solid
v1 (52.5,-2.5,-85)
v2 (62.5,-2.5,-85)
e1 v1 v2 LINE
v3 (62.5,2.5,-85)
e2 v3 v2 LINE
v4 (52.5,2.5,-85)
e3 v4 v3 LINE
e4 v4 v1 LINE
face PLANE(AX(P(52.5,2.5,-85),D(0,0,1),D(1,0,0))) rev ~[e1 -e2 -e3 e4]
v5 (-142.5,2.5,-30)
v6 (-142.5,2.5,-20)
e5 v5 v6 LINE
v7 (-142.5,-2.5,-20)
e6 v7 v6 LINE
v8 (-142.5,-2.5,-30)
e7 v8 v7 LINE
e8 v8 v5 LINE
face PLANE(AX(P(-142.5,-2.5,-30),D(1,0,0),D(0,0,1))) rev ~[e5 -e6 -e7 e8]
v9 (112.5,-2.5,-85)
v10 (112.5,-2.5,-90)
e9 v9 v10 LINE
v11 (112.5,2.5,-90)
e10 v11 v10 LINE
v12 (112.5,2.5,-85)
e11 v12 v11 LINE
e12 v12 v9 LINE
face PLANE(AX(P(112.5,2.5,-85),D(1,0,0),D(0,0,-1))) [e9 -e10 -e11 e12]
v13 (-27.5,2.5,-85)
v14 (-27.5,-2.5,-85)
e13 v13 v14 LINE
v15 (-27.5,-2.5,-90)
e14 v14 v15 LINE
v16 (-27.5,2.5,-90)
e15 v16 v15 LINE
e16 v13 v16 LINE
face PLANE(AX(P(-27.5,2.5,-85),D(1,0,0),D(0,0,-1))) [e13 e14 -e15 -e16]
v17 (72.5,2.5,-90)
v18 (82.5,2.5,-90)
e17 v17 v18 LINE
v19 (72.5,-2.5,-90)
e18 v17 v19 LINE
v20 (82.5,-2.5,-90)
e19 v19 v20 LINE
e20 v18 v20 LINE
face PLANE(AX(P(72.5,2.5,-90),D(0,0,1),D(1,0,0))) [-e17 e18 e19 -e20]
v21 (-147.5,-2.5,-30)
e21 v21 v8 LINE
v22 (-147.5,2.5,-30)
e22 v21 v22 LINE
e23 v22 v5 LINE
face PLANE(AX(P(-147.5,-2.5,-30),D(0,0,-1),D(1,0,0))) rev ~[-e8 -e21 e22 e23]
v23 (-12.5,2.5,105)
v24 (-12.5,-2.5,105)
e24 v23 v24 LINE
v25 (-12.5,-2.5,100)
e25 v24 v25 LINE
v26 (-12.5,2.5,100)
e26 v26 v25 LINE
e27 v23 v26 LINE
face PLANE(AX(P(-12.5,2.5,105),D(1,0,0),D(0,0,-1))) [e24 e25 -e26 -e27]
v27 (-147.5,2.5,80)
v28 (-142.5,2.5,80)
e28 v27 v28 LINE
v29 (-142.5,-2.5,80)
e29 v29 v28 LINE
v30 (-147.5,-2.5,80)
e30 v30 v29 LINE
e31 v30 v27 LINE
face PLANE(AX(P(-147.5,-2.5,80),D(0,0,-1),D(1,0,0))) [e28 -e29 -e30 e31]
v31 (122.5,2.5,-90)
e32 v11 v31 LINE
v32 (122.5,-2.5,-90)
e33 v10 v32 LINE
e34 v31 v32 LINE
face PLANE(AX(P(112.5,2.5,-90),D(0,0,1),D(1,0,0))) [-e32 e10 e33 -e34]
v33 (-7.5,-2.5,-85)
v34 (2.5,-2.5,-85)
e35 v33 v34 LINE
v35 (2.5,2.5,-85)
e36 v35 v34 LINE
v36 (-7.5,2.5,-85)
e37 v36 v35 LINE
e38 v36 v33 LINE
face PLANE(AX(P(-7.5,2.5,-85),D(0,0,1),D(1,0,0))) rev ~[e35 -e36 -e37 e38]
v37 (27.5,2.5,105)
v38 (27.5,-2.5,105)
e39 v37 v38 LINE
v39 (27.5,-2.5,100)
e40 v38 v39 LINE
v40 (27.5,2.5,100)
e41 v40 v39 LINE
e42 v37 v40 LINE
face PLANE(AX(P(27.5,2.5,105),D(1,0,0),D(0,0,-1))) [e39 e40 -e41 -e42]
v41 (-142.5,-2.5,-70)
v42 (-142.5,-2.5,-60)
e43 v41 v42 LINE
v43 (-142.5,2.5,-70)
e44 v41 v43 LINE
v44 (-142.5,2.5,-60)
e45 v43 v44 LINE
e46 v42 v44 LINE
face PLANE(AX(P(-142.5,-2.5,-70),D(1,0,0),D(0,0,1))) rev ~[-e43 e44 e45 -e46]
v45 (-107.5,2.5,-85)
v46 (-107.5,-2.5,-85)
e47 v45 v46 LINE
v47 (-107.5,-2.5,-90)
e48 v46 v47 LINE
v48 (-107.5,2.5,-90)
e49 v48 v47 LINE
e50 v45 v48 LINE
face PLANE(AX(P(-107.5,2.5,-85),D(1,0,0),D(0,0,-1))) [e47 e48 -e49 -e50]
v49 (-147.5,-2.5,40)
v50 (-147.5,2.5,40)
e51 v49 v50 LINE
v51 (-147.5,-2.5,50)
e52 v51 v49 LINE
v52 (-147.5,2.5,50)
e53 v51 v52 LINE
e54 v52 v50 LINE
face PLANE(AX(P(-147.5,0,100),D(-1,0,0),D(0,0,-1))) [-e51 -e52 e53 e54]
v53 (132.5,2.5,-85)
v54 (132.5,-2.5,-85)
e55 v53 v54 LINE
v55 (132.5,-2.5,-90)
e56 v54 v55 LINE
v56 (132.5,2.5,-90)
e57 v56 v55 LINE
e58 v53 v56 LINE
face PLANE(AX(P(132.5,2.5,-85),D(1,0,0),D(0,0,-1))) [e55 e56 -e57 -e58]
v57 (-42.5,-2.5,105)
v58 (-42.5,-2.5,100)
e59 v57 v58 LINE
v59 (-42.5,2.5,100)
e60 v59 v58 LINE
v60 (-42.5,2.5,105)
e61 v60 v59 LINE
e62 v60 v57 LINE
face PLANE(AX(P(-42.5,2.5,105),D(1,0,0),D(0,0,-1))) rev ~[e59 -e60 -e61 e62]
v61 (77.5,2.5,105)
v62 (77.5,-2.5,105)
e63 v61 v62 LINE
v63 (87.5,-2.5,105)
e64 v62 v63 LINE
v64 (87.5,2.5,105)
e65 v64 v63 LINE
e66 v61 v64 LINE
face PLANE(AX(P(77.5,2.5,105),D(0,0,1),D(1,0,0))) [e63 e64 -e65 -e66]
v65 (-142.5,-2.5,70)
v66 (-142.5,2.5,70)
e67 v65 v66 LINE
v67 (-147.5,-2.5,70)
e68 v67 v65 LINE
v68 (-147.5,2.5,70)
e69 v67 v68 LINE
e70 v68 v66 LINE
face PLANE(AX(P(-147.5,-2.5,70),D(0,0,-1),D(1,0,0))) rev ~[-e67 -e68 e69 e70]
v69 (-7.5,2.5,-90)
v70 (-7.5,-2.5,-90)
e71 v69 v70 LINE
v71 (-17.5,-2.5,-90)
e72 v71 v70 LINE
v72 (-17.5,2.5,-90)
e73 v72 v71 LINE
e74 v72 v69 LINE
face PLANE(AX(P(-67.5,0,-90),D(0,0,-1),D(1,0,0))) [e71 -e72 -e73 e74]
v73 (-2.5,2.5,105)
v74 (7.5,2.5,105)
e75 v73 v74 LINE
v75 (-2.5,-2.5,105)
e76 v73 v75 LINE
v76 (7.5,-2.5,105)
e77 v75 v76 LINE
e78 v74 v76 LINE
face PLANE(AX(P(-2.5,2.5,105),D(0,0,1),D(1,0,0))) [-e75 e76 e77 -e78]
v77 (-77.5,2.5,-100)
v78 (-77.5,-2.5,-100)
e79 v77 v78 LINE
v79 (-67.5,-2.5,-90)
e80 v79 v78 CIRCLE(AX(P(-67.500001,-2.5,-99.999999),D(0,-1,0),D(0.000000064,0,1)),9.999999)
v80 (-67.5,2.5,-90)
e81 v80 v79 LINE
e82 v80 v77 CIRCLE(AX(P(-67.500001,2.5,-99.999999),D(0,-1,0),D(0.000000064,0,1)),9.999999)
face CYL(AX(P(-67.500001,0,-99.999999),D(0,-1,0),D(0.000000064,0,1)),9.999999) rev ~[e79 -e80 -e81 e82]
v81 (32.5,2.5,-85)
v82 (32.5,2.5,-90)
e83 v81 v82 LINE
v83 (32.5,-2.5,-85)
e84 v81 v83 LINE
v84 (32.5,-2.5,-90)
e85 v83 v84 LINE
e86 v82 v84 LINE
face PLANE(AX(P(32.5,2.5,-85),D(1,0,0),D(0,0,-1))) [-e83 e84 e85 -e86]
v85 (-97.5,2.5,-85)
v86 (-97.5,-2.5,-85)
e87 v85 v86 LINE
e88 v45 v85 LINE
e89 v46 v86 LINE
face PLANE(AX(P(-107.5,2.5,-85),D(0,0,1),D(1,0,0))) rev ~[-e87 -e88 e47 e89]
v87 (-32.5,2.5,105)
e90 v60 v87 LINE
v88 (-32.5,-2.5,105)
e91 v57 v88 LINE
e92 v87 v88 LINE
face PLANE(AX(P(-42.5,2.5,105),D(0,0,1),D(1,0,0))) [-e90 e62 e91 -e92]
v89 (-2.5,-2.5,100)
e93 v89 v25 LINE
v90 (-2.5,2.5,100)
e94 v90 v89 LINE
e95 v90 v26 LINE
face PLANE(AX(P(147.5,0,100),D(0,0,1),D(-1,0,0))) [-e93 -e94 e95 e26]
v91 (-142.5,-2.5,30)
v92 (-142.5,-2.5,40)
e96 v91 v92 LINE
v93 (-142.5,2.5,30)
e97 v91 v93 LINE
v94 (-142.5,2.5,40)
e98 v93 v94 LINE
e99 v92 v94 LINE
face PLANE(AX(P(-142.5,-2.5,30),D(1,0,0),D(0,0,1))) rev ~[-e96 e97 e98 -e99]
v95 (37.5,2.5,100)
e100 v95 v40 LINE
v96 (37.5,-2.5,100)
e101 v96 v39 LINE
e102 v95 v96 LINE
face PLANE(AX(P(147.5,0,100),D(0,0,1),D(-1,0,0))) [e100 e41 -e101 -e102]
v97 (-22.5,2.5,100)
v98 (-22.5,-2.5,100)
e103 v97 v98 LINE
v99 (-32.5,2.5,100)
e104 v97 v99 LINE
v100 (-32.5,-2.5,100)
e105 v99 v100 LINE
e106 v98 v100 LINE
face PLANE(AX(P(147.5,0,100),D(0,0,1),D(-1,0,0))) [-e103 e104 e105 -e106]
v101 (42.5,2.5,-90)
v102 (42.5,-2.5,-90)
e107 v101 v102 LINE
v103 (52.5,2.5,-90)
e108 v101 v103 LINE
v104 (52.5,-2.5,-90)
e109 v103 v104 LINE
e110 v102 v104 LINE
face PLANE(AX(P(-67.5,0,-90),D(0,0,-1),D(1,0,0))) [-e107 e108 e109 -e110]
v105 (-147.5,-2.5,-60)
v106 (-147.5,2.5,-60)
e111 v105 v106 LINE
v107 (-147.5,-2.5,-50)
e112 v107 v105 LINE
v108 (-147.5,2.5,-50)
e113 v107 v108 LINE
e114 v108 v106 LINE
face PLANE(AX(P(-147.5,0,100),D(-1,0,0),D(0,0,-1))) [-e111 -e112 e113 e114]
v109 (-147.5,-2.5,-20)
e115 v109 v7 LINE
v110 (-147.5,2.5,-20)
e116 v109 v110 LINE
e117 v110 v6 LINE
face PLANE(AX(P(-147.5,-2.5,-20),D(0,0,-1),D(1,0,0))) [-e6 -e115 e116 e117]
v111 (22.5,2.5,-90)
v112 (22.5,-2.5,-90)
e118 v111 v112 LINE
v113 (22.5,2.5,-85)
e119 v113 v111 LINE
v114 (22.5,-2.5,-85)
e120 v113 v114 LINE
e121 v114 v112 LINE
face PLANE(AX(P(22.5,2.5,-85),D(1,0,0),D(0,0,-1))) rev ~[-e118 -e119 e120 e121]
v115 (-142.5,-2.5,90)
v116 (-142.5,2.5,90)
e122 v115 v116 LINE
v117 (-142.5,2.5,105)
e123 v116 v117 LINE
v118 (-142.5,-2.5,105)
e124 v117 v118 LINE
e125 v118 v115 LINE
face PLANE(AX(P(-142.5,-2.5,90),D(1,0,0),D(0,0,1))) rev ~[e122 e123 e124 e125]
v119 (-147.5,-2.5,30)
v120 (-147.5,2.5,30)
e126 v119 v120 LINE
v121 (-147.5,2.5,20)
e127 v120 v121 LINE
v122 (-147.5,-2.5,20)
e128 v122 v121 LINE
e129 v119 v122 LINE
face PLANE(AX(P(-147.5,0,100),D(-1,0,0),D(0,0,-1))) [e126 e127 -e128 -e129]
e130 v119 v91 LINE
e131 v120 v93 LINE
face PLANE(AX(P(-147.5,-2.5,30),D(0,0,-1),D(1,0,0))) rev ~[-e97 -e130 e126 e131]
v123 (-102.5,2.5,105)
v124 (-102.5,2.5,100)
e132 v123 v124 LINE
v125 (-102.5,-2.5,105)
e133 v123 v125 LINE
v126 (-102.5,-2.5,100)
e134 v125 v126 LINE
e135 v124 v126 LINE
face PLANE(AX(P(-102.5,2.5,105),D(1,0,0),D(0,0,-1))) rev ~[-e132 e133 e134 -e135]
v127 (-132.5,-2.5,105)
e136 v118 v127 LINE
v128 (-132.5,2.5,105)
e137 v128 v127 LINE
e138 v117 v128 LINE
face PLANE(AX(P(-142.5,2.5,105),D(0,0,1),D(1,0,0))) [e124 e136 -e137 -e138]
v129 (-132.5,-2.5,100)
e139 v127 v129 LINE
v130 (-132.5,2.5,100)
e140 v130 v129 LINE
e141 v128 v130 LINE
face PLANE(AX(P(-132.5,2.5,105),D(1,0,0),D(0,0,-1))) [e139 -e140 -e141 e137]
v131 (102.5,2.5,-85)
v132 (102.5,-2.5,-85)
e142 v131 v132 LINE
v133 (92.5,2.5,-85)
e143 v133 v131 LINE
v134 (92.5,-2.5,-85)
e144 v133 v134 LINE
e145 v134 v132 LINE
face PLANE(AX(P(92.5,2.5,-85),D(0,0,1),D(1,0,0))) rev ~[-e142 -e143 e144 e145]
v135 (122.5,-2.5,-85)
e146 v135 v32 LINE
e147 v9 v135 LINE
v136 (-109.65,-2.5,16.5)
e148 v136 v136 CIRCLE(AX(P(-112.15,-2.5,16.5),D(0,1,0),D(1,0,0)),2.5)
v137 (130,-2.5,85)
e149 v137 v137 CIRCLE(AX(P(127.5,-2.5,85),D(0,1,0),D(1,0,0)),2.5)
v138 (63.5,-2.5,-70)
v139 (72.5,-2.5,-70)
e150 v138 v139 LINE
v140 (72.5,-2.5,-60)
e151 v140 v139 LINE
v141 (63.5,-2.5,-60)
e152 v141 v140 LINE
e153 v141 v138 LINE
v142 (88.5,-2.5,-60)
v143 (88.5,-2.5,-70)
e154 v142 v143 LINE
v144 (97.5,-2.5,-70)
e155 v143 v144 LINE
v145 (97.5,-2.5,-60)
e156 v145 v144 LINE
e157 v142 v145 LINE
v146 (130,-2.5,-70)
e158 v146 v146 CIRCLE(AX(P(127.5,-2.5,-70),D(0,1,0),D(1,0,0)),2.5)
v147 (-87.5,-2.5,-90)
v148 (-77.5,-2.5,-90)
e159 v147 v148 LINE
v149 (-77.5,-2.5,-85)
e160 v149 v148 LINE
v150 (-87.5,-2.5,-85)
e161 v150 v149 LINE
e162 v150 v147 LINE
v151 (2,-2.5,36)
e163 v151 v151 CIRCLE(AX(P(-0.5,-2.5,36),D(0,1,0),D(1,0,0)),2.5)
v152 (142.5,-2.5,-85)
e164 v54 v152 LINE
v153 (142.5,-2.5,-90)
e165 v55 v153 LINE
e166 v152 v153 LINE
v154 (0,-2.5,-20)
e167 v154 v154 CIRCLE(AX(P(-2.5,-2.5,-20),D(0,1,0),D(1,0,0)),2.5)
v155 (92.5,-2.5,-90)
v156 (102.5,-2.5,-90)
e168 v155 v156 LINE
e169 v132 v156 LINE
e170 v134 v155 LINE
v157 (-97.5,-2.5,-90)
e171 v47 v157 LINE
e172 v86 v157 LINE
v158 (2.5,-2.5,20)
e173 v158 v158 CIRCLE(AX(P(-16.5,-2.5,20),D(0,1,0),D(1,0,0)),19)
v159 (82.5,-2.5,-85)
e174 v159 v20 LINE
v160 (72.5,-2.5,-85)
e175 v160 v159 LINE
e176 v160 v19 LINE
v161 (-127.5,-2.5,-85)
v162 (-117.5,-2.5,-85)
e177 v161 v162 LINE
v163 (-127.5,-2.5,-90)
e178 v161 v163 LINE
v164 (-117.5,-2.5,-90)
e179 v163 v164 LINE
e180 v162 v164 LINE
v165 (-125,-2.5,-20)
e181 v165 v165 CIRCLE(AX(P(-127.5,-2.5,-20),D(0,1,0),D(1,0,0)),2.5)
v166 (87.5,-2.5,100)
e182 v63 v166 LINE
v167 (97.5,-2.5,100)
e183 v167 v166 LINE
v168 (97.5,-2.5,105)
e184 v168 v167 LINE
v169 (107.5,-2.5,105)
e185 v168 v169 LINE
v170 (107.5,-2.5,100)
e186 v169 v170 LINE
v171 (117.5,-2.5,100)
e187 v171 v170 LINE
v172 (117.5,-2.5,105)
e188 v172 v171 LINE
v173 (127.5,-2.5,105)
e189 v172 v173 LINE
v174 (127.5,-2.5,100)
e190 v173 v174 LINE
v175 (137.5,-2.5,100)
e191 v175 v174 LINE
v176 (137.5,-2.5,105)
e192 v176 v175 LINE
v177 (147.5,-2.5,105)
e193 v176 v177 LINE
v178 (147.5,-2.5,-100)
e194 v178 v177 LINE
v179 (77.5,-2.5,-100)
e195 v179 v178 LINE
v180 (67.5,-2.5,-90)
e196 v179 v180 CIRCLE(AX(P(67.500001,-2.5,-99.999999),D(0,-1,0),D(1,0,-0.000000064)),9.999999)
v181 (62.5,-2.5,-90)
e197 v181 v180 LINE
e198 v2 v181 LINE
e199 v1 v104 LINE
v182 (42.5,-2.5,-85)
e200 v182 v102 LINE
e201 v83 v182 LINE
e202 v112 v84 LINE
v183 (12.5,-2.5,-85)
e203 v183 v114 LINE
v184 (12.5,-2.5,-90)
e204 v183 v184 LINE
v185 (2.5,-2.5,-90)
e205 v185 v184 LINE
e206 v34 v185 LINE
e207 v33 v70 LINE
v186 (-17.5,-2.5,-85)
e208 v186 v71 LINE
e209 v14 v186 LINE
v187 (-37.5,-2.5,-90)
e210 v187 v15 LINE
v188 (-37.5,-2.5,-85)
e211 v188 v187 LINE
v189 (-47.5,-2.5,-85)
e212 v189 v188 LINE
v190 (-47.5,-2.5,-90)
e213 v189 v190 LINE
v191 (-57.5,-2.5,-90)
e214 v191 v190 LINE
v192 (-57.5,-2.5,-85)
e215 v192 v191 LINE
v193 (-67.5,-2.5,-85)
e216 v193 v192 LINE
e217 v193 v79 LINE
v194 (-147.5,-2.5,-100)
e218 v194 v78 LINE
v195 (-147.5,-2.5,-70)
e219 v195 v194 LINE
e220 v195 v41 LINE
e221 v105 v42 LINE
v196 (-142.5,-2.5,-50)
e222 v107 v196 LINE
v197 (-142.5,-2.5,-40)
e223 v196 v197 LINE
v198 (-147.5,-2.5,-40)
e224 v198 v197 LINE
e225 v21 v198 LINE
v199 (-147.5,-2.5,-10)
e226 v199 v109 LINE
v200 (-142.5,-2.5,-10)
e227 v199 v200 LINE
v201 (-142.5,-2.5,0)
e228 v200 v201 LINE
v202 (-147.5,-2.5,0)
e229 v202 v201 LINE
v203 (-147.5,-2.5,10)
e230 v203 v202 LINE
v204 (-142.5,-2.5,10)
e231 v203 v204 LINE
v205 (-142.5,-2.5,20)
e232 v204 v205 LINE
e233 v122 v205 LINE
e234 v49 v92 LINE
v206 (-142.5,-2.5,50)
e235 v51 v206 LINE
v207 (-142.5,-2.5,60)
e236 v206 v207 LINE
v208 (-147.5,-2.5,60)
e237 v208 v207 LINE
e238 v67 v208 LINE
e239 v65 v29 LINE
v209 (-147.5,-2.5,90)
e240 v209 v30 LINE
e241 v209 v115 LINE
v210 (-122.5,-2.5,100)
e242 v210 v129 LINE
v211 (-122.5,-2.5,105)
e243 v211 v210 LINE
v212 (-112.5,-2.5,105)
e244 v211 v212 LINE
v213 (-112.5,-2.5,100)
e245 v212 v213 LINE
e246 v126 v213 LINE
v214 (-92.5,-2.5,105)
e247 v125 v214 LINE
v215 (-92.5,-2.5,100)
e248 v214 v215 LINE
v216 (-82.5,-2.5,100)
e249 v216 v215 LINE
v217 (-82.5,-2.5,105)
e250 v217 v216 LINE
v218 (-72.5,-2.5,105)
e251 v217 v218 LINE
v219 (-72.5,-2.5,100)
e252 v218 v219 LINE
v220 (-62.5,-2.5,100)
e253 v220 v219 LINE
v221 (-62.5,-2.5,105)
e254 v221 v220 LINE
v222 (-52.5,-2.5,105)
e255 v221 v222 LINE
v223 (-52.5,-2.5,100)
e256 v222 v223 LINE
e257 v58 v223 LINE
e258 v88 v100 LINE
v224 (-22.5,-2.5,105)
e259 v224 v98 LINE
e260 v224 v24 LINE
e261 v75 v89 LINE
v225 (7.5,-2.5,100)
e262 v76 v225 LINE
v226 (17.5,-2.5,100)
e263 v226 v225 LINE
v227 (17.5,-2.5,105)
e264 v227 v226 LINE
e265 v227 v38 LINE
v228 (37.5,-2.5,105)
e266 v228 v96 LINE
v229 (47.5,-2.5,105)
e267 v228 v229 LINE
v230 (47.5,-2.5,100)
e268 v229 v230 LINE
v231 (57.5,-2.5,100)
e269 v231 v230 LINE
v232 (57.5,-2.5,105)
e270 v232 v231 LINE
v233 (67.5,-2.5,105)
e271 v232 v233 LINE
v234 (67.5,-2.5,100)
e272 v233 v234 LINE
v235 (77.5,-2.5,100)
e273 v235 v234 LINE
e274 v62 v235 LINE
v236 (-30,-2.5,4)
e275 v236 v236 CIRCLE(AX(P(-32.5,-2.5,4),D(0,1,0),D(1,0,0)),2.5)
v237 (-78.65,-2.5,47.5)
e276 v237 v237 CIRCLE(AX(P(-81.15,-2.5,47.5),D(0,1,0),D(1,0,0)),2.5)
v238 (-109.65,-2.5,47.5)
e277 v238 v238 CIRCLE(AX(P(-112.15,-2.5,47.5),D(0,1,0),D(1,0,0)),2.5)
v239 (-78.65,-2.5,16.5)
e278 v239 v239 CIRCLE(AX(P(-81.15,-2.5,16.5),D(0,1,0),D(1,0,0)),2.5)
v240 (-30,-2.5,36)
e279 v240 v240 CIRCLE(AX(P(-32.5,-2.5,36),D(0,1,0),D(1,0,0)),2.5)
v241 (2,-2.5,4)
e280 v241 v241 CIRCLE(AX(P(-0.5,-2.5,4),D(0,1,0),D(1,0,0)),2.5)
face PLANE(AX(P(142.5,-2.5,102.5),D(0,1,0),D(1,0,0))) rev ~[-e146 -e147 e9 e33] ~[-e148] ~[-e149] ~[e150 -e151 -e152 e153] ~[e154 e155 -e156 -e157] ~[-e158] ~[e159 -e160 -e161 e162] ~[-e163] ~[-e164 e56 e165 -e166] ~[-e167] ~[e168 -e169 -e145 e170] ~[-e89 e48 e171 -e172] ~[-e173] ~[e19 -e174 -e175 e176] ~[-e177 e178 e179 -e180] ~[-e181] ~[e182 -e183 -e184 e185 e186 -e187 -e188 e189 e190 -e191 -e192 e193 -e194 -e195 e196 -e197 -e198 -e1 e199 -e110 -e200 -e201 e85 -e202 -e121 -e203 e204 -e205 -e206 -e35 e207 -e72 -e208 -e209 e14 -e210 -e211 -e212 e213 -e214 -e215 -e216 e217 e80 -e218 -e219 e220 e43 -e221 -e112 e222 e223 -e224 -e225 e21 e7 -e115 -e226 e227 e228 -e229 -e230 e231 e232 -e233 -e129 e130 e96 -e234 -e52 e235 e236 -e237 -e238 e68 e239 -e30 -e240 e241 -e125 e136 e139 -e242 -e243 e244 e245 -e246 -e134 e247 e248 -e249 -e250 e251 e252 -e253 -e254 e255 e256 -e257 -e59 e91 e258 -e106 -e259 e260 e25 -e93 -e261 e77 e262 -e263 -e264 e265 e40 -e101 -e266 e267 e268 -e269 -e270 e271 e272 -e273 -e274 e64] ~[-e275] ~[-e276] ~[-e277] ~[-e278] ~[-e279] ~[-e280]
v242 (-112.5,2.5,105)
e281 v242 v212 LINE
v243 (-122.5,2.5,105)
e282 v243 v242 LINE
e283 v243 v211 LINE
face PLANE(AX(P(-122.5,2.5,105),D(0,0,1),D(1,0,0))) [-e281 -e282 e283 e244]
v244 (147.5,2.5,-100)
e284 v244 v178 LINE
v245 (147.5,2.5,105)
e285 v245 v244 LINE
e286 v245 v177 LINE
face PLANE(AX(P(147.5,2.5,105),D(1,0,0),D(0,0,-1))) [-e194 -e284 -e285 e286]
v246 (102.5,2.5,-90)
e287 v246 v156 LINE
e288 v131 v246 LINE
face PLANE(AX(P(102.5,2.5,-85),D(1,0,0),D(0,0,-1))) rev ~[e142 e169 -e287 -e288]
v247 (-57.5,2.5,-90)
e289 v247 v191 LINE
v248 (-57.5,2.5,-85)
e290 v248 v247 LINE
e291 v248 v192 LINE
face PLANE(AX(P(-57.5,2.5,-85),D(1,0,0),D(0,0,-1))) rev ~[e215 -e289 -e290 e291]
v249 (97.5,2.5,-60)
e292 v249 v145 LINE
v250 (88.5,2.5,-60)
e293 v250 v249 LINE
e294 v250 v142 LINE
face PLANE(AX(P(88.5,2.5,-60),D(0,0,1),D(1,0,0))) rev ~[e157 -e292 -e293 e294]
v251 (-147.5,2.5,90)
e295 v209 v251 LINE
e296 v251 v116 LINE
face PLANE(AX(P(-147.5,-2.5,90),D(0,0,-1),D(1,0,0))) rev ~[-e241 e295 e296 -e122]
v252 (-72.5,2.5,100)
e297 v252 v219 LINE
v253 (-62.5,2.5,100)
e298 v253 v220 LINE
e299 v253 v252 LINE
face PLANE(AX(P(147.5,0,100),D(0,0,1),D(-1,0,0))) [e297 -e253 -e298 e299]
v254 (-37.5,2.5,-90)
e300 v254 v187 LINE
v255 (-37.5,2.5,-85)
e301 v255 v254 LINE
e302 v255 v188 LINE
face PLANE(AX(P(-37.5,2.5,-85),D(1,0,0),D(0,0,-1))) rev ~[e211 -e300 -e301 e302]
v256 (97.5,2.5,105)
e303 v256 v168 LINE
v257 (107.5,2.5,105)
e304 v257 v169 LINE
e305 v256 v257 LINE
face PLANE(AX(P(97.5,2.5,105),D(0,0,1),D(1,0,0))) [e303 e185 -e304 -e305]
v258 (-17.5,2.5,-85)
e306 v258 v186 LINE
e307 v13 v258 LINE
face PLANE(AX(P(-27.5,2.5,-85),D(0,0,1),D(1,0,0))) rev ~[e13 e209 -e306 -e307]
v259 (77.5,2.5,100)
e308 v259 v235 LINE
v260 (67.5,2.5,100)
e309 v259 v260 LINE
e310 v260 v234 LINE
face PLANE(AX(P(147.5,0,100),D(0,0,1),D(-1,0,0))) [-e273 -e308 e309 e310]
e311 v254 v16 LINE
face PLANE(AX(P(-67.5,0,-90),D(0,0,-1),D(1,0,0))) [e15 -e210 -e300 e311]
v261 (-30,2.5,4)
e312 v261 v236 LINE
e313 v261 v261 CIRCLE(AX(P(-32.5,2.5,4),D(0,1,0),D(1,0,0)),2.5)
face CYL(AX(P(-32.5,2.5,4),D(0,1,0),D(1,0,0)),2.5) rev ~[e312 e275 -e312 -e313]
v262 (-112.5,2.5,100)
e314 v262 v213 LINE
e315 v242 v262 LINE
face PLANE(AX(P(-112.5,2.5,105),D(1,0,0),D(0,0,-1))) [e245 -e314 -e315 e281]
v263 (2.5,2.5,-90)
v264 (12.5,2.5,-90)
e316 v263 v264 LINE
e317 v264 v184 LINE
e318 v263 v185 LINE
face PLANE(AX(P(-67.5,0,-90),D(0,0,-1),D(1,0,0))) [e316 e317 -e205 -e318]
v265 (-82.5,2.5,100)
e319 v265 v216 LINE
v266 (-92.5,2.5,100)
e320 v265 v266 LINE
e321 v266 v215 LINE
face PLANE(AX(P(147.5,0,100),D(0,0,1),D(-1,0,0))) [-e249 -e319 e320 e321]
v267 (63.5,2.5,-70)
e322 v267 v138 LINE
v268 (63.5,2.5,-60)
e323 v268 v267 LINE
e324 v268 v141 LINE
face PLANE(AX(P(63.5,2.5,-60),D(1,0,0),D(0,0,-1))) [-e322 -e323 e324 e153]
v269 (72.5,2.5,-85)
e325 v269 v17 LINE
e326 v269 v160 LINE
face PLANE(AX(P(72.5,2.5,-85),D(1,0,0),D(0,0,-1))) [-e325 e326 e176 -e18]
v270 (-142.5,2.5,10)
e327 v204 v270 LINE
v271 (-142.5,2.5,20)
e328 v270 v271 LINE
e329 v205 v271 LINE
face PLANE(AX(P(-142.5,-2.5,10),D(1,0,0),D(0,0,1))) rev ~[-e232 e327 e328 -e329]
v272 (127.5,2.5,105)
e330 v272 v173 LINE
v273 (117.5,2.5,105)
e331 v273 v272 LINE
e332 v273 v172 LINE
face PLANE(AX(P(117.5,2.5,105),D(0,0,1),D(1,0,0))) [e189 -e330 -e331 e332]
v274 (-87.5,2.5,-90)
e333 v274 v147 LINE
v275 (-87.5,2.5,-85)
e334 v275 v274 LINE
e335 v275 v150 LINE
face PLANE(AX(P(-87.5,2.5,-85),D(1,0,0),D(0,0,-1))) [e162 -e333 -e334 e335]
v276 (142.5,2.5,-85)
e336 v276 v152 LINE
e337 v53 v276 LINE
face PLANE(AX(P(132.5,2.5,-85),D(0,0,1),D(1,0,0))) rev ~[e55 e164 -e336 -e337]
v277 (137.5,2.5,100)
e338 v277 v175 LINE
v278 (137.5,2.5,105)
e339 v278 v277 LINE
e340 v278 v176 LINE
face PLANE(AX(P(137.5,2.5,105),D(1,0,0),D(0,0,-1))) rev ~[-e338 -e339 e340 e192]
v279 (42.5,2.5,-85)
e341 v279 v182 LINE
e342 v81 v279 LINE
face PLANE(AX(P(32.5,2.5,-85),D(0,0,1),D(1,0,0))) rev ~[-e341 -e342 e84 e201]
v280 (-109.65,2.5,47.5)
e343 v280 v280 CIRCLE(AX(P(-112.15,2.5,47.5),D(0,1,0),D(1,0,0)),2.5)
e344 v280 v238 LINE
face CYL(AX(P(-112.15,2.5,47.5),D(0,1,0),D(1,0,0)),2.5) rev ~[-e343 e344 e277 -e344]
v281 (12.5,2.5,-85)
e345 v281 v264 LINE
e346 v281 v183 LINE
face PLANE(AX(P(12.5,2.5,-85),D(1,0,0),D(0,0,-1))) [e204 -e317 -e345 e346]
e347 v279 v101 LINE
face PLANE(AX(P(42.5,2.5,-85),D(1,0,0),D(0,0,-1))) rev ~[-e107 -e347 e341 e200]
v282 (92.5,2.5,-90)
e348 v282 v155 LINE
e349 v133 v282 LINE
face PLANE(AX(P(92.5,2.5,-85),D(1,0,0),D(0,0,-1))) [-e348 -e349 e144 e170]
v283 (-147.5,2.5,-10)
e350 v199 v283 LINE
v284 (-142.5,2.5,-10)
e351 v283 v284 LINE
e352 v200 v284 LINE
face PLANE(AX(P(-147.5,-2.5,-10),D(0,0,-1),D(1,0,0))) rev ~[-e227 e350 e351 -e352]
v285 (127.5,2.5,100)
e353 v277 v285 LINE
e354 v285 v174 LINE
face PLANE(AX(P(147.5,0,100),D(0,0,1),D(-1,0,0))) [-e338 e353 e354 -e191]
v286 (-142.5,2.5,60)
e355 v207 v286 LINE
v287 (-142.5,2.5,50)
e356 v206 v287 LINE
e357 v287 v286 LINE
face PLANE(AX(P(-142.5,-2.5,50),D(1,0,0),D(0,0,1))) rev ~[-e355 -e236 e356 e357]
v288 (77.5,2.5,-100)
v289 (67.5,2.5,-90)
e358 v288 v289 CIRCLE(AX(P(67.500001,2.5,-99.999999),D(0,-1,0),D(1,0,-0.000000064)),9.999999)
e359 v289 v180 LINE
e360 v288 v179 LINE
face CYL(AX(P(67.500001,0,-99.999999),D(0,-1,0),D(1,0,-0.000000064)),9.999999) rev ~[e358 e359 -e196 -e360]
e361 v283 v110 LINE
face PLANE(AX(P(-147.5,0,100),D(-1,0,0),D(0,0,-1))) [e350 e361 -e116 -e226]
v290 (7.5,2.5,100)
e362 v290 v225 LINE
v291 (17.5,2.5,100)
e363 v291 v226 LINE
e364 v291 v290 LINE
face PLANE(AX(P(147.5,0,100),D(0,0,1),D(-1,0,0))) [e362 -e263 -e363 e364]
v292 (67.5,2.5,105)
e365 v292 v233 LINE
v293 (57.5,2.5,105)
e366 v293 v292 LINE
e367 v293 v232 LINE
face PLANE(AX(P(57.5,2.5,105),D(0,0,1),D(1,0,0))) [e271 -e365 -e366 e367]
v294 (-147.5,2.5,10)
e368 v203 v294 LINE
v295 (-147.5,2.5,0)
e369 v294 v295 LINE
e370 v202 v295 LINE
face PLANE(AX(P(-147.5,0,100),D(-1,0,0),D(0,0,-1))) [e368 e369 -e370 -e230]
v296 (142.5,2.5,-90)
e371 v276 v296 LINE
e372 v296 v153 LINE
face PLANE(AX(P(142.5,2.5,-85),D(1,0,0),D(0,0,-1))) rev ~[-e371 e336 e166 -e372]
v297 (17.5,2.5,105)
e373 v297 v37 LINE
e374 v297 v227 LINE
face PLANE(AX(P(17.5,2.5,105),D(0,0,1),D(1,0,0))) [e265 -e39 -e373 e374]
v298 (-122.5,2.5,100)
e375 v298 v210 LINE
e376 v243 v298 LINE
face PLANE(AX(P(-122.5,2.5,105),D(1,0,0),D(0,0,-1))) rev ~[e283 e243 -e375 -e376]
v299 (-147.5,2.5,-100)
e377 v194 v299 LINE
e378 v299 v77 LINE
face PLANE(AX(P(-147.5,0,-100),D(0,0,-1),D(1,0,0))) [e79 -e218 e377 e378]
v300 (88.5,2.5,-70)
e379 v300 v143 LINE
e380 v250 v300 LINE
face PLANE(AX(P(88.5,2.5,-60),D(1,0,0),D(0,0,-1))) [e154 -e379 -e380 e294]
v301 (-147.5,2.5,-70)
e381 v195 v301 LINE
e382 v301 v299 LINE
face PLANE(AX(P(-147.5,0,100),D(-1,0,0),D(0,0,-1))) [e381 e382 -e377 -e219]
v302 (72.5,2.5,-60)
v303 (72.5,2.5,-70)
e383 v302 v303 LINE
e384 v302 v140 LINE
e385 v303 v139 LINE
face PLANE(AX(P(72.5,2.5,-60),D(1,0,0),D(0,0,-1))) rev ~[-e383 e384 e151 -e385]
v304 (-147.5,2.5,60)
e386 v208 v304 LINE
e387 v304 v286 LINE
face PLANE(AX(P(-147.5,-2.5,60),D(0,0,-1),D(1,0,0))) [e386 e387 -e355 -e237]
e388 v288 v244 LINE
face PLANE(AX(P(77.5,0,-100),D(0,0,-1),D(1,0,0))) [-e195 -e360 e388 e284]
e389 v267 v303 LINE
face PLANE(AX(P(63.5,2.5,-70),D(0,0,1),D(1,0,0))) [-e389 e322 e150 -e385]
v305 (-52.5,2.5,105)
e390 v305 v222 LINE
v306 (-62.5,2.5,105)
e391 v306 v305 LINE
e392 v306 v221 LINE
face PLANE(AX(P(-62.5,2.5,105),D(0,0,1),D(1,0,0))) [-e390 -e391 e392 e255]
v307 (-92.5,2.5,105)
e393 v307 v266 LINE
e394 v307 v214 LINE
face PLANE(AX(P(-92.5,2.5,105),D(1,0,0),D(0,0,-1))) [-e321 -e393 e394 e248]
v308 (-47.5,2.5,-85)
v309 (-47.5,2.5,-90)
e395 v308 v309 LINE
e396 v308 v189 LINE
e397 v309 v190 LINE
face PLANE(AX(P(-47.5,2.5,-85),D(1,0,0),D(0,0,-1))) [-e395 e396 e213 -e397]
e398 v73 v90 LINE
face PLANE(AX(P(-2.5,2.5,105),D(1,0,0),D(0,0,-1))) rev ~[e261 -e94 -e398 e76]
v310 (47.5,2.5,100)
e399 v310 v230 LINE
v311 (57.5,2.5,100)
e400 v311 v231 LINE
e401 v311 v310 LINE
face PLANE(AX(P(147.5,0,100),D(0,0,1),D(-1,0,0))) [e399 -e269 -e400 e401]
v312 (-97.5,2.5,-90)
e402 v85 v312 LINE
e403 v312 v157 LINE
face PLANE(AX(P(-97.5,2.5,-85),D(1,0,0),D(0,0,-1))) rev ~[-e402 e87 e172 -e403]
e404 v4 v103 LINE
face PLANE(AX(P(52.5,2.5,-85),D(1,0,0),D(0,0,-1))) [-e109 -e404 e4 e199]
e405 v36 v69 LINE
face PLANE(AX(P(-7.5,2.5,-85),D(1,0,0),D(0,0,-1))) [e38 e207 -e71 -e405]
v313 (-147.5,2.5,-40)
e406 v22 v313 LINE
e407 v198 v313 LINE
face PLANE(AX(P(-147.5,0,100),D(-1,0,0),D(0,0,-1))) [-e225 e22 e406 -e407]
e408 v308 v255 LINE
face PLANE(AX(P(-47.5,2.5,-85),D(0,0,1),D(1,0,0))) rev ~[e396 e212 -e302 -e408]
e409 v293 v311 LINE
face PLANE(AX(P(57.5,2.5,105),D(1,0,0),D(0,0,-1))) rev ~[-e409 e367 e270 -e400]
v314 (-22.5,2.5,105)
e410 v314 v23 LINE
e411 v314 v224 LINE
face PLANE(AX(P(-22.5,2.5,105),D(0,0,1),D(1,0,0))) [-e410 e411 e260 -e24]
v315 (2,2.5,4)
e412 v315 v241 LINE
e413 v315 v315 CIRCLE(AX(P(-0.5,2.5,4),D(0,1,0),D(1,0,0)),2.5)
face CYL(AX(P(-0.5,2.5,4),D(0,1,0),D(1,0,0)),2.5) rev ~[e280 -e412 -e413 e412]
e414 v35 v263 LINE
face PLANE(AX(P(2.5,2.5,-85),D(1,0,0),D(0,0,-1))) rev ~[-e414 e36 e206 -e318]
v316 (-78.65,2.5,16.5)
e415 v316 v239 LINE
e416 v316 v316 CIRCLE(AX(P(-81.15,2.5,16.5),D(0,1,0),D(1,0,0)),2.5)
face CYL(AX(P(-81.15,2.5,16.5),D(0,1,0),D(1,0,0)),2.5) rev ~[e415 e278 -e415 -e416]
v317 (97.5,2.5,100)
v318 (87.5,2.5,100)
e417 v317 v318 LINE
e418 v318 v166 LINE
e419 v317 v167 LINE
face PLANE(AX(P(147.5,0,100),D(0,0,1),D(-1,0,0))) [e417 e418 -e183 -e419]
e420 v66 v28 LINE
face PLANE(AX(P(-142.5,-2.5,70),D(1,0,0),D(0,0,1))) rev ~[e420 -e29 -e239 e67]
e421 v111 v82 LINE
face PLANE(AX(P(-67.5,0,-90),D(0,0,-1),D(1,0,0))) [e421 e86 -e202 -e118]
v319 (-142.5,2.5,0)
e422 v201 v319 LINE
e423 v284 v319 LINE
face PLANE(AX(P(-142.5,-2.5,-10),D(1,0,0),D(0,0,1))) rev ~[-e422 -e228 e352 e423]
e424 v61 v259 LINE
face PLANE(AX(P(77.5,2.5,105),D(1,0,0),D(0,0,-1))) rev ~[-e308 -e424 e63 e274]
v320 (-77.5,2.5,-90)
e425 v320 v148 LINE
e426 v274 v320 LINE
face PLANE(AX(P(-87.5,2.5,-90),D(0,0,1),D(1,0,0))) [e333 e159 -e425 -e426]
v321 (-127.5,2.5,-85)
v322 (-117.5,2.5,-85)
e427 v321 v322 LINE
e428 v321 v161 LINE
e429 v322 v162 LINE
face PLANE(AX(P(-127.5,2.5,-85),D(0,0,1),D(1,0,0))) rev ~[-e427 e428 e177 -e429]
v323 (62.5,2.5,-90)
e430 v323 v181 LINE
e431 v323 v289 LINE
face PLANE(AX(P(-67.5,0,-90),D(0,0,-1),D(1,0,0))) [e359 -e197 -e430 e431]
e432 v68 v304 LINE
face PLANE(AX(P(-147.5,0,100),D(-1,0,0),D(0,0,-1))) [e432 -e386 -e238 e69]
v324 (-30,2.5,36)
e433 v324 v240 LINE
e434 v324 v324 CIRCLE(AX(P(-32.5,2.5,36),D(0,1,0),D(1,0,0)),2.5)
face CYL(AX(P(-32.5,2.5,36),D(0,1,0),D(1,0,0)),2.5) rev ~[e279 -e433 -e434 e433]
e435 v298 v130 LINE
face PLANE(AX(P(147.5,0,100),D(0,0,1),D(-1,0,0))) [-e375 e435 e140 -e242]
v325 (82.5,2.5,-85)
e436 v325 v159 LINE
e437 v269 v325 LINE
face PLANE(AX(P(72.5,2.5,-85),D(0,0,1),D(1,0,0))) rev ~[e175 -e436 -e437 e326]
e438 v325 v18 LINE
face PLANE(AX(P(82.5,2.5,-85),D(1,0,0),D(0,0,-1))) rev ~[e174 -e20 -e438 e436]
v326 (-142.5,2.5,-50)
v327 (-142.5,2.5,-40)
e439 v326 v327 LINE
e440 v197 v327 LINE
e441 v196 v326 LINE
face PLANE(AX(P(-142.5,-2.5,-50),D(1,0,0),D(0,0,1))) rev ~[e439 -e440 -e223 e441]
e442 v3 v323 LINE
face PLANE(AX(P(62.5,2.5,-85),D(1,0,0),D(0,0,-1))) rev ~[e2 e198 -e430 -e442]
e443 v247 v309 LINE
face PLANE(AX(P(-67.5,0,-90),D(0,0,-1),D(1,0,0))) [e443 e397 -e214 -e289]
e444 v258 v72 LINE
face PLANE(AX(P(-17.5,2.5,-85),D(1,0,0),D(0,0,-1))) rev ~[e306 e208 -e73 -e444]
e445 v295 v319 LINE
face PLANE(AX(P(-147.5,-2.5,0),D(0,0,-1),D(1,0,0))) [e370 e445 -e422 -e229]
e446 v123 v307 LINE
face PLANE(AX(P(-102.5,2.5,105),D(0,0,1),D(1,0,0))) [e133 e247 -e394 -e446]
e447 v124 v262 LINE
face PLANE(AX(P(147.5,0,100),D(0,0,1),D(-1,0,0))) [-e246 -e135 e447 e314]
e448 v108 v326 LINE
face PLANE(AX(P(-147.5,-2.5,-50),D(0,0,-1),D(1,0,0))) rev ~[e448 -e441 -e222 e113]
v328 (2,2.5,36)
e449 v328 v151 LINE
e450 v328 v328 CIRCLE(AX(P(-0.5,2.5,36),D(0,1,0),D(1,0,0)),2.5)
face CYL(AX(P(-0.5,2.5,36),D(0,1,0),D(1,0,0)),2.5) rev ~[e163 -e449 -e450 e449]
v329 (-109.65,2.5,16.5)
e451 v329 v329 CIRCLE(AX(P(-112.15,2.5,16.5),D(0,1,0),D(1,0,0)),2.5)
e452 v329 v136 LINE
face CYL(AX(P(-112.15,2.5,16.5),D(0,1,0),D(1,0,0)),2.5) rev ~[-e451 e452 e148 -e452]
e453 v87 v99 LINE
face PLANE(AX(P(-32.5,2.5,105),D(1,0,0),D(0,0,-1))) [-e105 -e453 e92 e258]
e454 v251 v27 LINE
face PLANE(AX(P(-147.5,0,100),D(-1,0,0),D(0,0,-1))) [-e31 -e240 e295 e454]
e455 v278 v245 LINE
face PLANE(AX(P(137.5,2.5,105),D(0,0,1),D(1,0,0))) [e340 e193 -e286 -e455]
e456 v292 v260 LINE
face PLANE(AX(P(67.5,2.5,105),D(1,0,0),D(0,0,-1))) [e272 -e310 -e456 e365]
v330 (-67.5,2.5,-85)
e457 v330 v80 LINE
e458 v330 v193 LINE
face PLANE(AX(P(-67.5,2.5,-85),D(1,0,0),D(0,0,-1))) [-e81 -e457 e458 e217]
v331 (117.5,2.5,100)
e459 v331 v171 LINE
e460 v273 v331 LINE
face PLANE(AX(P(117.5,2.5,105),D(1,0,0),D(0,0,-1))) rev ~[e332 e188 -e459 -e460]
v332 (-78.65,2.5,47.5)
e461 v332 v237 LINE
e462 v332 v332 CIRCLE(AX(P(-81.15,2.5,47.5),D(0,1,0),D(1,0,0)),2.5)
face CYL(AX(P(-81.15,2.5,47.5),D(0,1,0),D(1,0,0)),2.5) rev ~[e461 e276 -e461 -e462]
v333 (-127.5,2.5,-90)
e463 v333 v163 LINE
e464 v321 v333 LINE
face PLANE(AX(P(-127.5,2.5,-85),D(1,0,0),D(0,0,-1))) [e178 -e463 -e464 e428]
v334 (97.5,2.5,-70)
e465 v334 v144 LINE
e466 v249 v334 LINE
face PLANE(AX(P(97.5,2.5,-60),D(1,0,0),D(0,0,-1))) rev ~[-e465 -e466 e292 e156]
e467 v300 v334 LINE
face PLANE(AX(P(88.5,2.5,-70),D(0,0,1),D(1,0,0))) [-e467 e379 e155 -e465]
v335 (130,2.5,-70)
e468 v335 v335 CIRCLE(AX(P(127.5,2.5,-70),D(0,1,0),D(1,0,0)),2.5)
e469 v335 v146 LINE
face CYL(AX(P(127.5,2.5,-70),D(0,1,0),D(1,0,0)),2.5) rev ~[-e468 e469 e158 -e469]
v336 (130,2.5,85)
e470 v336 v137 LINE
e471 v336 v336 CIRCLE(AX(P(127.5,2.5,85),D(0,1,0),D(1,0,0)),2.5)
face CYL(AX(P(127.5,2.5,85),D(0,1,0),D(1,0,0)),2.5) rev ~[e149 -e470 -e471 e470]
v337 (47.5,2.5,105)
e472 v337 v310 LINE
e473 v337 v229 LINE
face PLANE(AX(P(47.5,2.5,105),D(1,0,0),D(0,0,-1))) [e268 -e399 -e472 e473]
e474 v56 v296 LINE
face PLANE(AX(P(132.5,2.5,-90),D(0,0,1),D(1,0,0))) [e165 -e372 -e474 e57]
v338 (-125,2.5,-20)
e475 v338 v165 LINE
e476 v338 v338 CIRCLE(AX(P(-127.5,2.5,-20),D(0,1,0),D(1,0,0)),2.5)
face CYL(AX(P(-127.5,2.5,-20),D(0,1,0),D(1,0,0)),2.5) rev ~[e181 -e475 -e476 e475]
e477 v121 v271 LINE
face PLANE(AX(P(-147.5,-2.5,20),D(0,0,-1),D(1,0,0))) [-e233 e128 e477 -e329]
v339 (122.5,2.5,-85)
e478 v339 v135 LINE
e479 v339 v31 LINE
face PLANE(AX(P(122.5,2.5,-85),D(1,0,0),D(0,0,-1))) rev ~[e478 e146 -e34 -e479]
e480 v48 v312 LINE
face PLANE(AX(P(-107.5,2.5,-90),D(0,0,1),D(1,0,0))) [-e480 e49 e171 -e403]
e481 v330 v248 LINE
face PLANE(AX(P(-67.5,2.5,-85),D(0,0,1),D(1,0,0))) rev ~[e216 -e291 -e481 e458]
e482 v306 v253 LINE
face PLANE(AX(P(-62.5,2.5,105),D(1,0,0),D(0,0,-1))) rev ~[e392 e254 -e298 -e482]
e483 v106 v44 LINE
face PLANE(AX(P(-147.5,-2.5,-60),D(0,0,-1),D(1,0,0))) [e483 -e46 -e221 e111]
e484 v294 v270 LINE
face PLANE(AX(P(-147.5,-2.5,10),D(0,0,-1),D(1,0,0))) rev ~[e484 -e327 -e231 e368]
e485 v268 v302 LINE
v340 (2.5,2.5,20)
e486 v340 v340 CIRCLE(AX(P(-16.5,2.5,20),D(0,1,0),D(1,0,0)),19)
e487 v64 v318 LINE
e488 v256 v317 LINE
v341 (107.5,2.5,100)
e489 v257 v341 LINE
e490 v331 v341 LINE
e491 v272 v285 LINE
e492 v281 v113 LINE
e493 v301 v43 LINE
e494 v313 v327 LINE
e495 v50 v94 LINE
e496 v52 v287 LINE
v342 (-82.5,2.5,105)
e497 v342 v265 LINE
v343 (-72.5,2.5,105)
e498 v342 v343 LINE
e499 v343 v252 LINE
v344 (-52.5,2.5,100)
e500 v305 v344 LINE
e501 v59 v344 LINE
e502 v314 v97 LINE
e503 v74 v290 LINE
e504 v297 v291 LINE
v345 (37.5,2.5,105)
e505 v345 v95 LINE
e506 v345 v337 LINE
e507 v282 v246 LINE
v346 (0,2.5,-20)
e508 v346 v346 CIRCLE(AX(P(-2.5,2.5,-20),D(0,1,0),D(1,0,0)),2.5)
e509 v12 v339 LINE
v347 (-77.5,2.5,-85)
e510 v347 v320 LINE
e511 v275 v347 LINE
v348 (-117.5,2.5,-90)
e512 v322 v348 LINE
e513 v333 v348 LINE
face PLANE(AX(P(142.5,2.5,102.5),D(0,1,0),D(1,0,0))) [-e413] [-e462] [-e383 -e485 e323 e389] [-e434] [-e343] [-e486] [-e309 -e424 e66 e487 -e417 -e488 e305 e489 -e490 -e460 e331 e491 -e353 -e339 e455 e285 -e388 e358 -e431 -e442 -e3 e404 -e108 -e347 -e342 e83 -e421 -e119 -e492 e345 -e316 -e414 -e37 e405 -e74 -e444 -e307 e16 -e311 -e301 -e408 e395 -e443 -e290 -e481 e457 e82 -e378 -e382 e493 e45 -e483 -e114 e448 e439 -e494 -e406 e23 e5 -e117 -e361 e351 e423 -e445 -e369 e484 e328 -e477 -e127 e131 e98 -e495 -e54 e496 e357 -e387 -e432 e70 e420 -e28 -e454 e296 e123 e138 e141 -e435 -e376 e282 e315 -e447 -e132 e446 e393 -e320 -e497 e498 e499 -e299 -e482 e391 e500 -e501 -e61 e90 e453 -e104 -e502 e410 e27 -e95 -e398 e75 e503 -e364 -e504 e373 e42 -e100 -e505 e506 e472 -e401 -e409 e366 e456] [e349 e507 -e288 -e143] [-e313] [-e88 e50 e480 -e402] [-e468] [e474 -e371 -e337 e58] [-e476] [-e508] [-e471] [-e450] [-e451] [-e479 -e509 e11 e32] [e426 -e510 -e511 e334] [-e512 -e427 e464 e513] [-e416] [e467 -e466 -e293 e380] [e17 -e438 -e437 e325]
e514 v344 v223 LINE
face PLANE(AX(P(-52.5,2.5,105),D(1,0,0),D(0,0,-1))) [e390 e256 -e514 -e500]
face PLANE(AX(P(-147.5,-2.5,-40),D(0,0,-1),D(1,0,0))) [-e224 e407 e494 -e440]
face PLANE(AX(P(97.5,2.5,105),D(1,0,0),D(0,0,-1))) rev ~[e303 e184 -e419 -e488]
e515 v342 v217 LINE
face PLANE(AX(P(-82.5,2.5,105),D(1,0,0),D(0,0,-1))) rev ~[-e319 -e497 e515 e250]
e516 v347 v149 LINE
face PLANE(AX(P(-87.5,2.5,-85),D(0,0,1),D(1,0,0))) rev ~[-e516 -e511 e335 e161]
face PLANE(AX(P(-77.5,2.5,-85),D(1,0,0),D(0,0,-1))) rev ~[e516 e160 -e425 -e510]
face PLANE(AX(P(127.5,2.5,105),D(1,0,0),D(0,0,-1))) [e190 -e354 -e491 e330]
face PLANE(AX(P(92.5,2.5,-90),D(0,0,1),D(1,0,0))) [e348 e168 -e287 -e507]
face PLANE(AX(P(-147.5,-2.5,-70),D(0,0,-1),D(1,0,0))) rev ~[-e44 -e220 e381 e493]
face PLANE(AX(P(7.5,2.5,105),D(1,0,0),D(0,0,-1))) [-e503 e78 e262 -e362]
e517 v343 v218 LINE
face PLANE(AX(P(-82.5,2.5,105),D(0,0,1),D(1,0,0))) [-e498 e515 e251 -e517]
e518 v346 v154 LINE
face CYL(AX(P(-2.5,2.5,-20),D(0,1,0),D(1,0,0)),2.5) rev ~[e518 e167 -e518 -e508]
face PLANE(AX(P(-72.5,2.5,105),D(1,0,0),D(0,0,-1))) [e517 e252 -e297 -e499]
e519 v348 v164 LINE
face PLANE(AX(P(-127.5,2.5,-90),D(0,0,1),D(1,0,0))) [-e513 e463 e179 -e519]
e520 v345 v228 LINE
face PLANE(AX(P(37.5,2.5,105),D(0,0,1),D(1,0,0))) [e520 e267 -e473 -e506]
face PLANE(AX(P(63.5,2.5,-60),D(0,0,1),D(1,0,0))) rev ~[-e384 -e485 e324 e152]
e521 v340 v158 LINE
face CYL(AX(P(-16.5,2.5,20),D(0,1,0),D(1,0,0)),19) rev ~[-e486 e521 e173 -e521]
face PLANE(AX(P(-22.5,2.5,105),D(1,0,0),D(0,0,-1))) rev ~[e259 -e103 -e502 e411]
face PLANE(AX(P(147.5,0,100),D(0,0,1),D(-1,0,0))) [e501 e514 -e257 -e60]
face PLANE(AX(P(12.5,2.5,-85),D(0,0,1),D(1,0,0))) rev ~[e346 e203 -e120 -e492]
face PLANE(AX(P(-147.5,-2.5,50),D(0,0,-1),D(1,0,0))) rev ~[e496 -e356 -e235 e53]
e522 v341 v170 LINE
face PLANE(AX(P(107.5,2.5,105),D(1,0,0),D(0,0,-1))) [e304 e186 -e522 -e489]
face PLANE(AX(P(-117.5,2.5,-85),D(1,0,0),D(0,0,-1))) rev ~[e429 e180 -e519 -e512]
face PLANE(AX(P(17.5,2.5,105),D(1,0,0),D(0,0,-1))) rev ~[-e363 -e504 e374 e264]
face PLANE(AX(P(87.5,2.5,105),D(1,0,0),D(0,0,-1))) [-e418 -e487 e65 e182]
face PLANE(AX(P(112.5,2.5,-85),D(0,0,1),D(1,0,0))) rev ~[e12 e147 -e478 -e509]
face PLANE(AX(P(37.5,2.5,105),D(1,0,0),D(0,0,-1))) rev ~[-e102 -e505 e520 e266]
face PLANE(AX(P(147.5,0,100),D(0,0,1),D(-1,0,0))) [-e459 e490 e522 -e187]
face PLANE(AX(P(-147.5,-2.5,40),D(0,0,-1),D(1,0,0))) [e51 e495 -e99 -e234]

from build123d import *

# Parameters (mm, degrees)
PAD_DEPTH       = 2.5
SKETCH001_W     = 5
SKETCH001_H     = 10
POCKET_DEPTH    = 5.001
SKETCH002_W     = 10
SKETCH002_H     = 5
PAD001_DEPTH    = 5
SKETCH003_W     = 10
SKETCH003_H     = 5
POCKET001_DEPTH = 5.001
SKETCH004_R     = 2.5
POCKET002_DEPTH = 5.001
SKETCH005_R     = 19
SKETCH005_R_2   = 2.5
POCKET003_DEPTH = 5.001
SKETCH006_W     = 9
SKETCH006_H     = 10
POCKET004_DEPTH = 5.001
SKETCH007_R     = 2.5
POCKET005_DEPTH = 5.001


with BuildPart() as part:
    # Sketch → Pad (new body, symmetric)
    with BuildSketch(Plane.XZ):
        with BuildLine():
            Line((-147.5, -100), (-77.5, -100))
            ThreePointArc((-67.5, -90), (-74.571068, -92.928932), (-77.5, -100))
            Line((-67.5, -90), (67.5, -90))
            ThreePointArc((77.5, -100), (74.571068, -92.928932), (67.5, -90))
            Line((77.5, -100), (147.5, -100))
            Line((147.5, -100), (147.5, 100))
            Line((147.5, 100), (-147.5, 100))
            Line((-147.5, 100), (-147.5, -100))
        make_face()
    extrude(amount=PAD_DEPTH, both=True)

    # Sketch001 (on Face10 of Pad) → Pocket (cut, through all)
    with BuildSketch(Plane.XZ.offset(2.5)):
        with Locations((-145, -65)):
            Rectangle(SKETCH001_W, SKETCH001_H)
        with Locations((-145, -45)):
            Rectangle(SKETCH001_W, SKETCH001_H)
        with Locations((-145, -25)):
            Rectangle(SKETCH001_W, SKETCH001_H)
        with Locations((-145, -5)):
            Rectangle(SKETCH001_W, SKETCH001_H)
        with Locations((-145, 15)):
            Rectangle(SKETCH001_W, SKETCH001_H)
        with Locations((-145, 35)):
            Rectangle(SKETCH001_W, SKETCH001_H)
        with Locations((-145, 55)):
            Rectangle(SKETCH001_W, SKETCH001_H)
        with Locations((-145, 75)):
            Rectangle(SKETCH001_W, SKETCH001_H)
        with Locations((-145, 95)):
            Rectangle(SKETCH001_W, SKETCH001_H)
        with Locations((-145, 115)):
            Rectangle(SKETCH001_W, SKETCH001_H)
    extrude(amount=-POCKET_DEPTH, mode=Mode.SUBTRACT)

    # Sketch002 (on Face4 of Pocket) → Pad001 (join)
    with BuildSketch(Plane(origin=(0, 2.5, 0), x_dir=(1, 0, 0), z_dir=(0, 1, 0))):
        with Locations((142.5, -102.5)):
            Rectangle(SKETCH002_W, SKETCH002_H)
        with Locations((122.5, -102.5)):
            Rectangle(SKETCH002_W, SKETCH002_H)
        with Locations((102.5, -102.5)):
            Rectangle(SKETCH002_W, SKETCH002_H)
        with Locations((82.5, -102.5)):
            Rectangle(SKETCH002_W, SKETCH002_H)
        with Locations((62.5, -102.5)):
            Rectangle(SKETCH002_W, SKETCH002_H)
        with Locations((42.5, -102.5)):
            Rectangle(SKETCH002_W, SKETCH002_H)
        with Locations((22.5, -102.5)):
            Rectangle(SKETCH002_W, SKETCH002_H)
        with Locations((2.5, -102.5)):
            Rectangle(SKETCH002_W, SKETCH002_H)
        with Locations((-17.5, -102.5)):
            Rectangle(SKETCH002_W, SKETCH002_H)
        with Locations((-37.5, -102.5)):
            Rectangle(SKETCH002_W, SKETCH002_H)
        with Locations((-57.5, -102.5)):
            Rectangle(SKETCH002_W, SKETCH002_H)
        with Locations((-77.5, -102.5)):
            Rectangle(SKETCH002_W, SKETCH002_H)
        with Locations((-97.5, -102.5)):
            Rectangle(SKETCH002_W, SKETCH002_H)
        with Locations((-117.5, -102.5)):
            Rectangle(SKETCH002_W, SKETCH002_H)
        with Locations((-137.5, -102.5)):
            Rectangle(SKETCH002_W, SKETCH002_H)
    extrude(amount=-PAD001_DEPTH)

    # Sketch003 (on Face98 of Pad001) → Pocket001 (cut, through all)
    with BuildSketch(Plane(origin=(0, 2.5, 0), x_dir=(1, 0, 0), z_dir=(0, 1, 0))):
        with Locations((-122.5, 87.5)):
            Rectangle(SKETCH003_W, SKETCH003_H)
        with Locations((-102.5, 87.5)):
            Rectangle(SKETCH003_W, SKETCH003_H)
        with Locations((-82.5, 87.5)):
            Rectangle(SKETCH003_W, SKETCH003_H)
        with Locations((-62.5, 87.5)):
            Rectangle(SKETCH003_W, SKETCH003_H)
        with Locations((-42.5, 87.5)):
            Rectangle(SKETCH003_W, SKETCH003_H)
        with Locations((-22.5, 87.5)):
            Rectangle(SKETCH003_W, SKETCH003_H)
        with Locations((-2.5, 87.5)):
            Rectangle(SKETCH003_W, SKETCH003_H)
        with Locations((17.5, 87.5)):
            Rectangle(SKETCH003_W, SKETCH003_H)
        with Locations((37.5, 87.5)):
            Rectangle(SKETCH003_W, SKETCH003_H)
        with Locations((57.5, 87.5)):
            Rectangle(SKETCH003_W, SKETCH003_H)
        with Locations((77.5, 87.5)):
            Rectangle(SKETCH003_W, SKETCH003_H)
        with Locations((97.5, 87.5)):
            Rectangle(SKETCH003_W, SKETCH003_H)
        with Locations((117.5, 87.5)):
            Rectangle(SKETCH003_W, SKETCH003_H)
        with Locations((137.5, 87.5)):
            Rectangle(SKETCH003_W, SKETCH003_H)
    extrude(amount=-POCKET001_DEPTH, mode=Mode.SUBTRACT)

    # Sketch004 (on Face4 of Pocket001) → Pocket002 (cut, through all)
    with BuildSketch(Plane(origin=(0, 2.5, 0), x_dir=(1, 0, 0), z_dir=(0, 1, 0))):
        with Locations((-127.5, 20)):
            Circle(SKETCH004_R)
        with Locations((-2.5, 20)):
            Circle(SKETCH004_R)
        with Locations((127.5, 70)):
            Circle(SKETCH004_R)
        with Locations((127.5, -85)):
            Circle(SKETCH004_R)
    extrude(amount=-POCKET002_DEPTH, mode=Mode.SUBTRACT)

    # Sketch005 (on Face4 of Pocket002) → Pocket003 (cut, through all)
    with BuildSketch(Plane(origin=(0, 2.5, 0), x_dir=(1, 0, 0), z_dir=(0, 1, 0))):
        with Locations((-16.5, -20)):
            Circle(SKETCH005_R)
        with Locations((-32.5, -4)):
            Circle(SKETCH005_R_2)
        with Locations((-0.5, -4)):
            Circle(SKETCH005_R_2)
        with Locations((-32.5, -36)):
            Circle(SKETCH005_R_2)
        with Locations((-0.5, -36)):
            Circle(SKETCH005_R_2)
    extrude(amount=-POCKET003_DEPTH, mode=Mode.SUBTRACT)

    # Sketch006 (on Face4 of Pocket003) → Pocket004 (cut, through all)
    with BuildSketch(Plane(origin=(0, 2.5, 0), x_dir=(1, 0, 0), z_dir=(0, 1, 0))):
        with Locations((68, 65)):
            Rectangle(SKETCH006_W, SKETCH006_H)
        with Locations((93, 65)):
            Rectangle(SKETCH006_W, SKETCH006_H)
    extrude(amount=-POCKET004_DEPTH, mode=Mode.SUBTRACT)

    # Sketch007 (on Face4 of Pocket004) → Pocket005 (cut, through all)
    with BuildSketch(Plane(origin=(0, 2.5, 0), x_dir=(1, 0, 0), z_dir=(0, 1, 0))):
        with Locations((-112.15, -16.5)):
            Circle(SKETCH007_R)
        with Locations((-81.15, -16.5)):
            Circle(SKETCH007_R)
        with Locations((-112.15, -47.5)):
            Circle(SKETCH007_R)
        with Locations((-81.15, -47.5)):
            Circle(SKETCH007_R)
    extrude(amount=-POCKET005_DEPTH, mode=Mode.SUBTRACT)


solid = part.part
